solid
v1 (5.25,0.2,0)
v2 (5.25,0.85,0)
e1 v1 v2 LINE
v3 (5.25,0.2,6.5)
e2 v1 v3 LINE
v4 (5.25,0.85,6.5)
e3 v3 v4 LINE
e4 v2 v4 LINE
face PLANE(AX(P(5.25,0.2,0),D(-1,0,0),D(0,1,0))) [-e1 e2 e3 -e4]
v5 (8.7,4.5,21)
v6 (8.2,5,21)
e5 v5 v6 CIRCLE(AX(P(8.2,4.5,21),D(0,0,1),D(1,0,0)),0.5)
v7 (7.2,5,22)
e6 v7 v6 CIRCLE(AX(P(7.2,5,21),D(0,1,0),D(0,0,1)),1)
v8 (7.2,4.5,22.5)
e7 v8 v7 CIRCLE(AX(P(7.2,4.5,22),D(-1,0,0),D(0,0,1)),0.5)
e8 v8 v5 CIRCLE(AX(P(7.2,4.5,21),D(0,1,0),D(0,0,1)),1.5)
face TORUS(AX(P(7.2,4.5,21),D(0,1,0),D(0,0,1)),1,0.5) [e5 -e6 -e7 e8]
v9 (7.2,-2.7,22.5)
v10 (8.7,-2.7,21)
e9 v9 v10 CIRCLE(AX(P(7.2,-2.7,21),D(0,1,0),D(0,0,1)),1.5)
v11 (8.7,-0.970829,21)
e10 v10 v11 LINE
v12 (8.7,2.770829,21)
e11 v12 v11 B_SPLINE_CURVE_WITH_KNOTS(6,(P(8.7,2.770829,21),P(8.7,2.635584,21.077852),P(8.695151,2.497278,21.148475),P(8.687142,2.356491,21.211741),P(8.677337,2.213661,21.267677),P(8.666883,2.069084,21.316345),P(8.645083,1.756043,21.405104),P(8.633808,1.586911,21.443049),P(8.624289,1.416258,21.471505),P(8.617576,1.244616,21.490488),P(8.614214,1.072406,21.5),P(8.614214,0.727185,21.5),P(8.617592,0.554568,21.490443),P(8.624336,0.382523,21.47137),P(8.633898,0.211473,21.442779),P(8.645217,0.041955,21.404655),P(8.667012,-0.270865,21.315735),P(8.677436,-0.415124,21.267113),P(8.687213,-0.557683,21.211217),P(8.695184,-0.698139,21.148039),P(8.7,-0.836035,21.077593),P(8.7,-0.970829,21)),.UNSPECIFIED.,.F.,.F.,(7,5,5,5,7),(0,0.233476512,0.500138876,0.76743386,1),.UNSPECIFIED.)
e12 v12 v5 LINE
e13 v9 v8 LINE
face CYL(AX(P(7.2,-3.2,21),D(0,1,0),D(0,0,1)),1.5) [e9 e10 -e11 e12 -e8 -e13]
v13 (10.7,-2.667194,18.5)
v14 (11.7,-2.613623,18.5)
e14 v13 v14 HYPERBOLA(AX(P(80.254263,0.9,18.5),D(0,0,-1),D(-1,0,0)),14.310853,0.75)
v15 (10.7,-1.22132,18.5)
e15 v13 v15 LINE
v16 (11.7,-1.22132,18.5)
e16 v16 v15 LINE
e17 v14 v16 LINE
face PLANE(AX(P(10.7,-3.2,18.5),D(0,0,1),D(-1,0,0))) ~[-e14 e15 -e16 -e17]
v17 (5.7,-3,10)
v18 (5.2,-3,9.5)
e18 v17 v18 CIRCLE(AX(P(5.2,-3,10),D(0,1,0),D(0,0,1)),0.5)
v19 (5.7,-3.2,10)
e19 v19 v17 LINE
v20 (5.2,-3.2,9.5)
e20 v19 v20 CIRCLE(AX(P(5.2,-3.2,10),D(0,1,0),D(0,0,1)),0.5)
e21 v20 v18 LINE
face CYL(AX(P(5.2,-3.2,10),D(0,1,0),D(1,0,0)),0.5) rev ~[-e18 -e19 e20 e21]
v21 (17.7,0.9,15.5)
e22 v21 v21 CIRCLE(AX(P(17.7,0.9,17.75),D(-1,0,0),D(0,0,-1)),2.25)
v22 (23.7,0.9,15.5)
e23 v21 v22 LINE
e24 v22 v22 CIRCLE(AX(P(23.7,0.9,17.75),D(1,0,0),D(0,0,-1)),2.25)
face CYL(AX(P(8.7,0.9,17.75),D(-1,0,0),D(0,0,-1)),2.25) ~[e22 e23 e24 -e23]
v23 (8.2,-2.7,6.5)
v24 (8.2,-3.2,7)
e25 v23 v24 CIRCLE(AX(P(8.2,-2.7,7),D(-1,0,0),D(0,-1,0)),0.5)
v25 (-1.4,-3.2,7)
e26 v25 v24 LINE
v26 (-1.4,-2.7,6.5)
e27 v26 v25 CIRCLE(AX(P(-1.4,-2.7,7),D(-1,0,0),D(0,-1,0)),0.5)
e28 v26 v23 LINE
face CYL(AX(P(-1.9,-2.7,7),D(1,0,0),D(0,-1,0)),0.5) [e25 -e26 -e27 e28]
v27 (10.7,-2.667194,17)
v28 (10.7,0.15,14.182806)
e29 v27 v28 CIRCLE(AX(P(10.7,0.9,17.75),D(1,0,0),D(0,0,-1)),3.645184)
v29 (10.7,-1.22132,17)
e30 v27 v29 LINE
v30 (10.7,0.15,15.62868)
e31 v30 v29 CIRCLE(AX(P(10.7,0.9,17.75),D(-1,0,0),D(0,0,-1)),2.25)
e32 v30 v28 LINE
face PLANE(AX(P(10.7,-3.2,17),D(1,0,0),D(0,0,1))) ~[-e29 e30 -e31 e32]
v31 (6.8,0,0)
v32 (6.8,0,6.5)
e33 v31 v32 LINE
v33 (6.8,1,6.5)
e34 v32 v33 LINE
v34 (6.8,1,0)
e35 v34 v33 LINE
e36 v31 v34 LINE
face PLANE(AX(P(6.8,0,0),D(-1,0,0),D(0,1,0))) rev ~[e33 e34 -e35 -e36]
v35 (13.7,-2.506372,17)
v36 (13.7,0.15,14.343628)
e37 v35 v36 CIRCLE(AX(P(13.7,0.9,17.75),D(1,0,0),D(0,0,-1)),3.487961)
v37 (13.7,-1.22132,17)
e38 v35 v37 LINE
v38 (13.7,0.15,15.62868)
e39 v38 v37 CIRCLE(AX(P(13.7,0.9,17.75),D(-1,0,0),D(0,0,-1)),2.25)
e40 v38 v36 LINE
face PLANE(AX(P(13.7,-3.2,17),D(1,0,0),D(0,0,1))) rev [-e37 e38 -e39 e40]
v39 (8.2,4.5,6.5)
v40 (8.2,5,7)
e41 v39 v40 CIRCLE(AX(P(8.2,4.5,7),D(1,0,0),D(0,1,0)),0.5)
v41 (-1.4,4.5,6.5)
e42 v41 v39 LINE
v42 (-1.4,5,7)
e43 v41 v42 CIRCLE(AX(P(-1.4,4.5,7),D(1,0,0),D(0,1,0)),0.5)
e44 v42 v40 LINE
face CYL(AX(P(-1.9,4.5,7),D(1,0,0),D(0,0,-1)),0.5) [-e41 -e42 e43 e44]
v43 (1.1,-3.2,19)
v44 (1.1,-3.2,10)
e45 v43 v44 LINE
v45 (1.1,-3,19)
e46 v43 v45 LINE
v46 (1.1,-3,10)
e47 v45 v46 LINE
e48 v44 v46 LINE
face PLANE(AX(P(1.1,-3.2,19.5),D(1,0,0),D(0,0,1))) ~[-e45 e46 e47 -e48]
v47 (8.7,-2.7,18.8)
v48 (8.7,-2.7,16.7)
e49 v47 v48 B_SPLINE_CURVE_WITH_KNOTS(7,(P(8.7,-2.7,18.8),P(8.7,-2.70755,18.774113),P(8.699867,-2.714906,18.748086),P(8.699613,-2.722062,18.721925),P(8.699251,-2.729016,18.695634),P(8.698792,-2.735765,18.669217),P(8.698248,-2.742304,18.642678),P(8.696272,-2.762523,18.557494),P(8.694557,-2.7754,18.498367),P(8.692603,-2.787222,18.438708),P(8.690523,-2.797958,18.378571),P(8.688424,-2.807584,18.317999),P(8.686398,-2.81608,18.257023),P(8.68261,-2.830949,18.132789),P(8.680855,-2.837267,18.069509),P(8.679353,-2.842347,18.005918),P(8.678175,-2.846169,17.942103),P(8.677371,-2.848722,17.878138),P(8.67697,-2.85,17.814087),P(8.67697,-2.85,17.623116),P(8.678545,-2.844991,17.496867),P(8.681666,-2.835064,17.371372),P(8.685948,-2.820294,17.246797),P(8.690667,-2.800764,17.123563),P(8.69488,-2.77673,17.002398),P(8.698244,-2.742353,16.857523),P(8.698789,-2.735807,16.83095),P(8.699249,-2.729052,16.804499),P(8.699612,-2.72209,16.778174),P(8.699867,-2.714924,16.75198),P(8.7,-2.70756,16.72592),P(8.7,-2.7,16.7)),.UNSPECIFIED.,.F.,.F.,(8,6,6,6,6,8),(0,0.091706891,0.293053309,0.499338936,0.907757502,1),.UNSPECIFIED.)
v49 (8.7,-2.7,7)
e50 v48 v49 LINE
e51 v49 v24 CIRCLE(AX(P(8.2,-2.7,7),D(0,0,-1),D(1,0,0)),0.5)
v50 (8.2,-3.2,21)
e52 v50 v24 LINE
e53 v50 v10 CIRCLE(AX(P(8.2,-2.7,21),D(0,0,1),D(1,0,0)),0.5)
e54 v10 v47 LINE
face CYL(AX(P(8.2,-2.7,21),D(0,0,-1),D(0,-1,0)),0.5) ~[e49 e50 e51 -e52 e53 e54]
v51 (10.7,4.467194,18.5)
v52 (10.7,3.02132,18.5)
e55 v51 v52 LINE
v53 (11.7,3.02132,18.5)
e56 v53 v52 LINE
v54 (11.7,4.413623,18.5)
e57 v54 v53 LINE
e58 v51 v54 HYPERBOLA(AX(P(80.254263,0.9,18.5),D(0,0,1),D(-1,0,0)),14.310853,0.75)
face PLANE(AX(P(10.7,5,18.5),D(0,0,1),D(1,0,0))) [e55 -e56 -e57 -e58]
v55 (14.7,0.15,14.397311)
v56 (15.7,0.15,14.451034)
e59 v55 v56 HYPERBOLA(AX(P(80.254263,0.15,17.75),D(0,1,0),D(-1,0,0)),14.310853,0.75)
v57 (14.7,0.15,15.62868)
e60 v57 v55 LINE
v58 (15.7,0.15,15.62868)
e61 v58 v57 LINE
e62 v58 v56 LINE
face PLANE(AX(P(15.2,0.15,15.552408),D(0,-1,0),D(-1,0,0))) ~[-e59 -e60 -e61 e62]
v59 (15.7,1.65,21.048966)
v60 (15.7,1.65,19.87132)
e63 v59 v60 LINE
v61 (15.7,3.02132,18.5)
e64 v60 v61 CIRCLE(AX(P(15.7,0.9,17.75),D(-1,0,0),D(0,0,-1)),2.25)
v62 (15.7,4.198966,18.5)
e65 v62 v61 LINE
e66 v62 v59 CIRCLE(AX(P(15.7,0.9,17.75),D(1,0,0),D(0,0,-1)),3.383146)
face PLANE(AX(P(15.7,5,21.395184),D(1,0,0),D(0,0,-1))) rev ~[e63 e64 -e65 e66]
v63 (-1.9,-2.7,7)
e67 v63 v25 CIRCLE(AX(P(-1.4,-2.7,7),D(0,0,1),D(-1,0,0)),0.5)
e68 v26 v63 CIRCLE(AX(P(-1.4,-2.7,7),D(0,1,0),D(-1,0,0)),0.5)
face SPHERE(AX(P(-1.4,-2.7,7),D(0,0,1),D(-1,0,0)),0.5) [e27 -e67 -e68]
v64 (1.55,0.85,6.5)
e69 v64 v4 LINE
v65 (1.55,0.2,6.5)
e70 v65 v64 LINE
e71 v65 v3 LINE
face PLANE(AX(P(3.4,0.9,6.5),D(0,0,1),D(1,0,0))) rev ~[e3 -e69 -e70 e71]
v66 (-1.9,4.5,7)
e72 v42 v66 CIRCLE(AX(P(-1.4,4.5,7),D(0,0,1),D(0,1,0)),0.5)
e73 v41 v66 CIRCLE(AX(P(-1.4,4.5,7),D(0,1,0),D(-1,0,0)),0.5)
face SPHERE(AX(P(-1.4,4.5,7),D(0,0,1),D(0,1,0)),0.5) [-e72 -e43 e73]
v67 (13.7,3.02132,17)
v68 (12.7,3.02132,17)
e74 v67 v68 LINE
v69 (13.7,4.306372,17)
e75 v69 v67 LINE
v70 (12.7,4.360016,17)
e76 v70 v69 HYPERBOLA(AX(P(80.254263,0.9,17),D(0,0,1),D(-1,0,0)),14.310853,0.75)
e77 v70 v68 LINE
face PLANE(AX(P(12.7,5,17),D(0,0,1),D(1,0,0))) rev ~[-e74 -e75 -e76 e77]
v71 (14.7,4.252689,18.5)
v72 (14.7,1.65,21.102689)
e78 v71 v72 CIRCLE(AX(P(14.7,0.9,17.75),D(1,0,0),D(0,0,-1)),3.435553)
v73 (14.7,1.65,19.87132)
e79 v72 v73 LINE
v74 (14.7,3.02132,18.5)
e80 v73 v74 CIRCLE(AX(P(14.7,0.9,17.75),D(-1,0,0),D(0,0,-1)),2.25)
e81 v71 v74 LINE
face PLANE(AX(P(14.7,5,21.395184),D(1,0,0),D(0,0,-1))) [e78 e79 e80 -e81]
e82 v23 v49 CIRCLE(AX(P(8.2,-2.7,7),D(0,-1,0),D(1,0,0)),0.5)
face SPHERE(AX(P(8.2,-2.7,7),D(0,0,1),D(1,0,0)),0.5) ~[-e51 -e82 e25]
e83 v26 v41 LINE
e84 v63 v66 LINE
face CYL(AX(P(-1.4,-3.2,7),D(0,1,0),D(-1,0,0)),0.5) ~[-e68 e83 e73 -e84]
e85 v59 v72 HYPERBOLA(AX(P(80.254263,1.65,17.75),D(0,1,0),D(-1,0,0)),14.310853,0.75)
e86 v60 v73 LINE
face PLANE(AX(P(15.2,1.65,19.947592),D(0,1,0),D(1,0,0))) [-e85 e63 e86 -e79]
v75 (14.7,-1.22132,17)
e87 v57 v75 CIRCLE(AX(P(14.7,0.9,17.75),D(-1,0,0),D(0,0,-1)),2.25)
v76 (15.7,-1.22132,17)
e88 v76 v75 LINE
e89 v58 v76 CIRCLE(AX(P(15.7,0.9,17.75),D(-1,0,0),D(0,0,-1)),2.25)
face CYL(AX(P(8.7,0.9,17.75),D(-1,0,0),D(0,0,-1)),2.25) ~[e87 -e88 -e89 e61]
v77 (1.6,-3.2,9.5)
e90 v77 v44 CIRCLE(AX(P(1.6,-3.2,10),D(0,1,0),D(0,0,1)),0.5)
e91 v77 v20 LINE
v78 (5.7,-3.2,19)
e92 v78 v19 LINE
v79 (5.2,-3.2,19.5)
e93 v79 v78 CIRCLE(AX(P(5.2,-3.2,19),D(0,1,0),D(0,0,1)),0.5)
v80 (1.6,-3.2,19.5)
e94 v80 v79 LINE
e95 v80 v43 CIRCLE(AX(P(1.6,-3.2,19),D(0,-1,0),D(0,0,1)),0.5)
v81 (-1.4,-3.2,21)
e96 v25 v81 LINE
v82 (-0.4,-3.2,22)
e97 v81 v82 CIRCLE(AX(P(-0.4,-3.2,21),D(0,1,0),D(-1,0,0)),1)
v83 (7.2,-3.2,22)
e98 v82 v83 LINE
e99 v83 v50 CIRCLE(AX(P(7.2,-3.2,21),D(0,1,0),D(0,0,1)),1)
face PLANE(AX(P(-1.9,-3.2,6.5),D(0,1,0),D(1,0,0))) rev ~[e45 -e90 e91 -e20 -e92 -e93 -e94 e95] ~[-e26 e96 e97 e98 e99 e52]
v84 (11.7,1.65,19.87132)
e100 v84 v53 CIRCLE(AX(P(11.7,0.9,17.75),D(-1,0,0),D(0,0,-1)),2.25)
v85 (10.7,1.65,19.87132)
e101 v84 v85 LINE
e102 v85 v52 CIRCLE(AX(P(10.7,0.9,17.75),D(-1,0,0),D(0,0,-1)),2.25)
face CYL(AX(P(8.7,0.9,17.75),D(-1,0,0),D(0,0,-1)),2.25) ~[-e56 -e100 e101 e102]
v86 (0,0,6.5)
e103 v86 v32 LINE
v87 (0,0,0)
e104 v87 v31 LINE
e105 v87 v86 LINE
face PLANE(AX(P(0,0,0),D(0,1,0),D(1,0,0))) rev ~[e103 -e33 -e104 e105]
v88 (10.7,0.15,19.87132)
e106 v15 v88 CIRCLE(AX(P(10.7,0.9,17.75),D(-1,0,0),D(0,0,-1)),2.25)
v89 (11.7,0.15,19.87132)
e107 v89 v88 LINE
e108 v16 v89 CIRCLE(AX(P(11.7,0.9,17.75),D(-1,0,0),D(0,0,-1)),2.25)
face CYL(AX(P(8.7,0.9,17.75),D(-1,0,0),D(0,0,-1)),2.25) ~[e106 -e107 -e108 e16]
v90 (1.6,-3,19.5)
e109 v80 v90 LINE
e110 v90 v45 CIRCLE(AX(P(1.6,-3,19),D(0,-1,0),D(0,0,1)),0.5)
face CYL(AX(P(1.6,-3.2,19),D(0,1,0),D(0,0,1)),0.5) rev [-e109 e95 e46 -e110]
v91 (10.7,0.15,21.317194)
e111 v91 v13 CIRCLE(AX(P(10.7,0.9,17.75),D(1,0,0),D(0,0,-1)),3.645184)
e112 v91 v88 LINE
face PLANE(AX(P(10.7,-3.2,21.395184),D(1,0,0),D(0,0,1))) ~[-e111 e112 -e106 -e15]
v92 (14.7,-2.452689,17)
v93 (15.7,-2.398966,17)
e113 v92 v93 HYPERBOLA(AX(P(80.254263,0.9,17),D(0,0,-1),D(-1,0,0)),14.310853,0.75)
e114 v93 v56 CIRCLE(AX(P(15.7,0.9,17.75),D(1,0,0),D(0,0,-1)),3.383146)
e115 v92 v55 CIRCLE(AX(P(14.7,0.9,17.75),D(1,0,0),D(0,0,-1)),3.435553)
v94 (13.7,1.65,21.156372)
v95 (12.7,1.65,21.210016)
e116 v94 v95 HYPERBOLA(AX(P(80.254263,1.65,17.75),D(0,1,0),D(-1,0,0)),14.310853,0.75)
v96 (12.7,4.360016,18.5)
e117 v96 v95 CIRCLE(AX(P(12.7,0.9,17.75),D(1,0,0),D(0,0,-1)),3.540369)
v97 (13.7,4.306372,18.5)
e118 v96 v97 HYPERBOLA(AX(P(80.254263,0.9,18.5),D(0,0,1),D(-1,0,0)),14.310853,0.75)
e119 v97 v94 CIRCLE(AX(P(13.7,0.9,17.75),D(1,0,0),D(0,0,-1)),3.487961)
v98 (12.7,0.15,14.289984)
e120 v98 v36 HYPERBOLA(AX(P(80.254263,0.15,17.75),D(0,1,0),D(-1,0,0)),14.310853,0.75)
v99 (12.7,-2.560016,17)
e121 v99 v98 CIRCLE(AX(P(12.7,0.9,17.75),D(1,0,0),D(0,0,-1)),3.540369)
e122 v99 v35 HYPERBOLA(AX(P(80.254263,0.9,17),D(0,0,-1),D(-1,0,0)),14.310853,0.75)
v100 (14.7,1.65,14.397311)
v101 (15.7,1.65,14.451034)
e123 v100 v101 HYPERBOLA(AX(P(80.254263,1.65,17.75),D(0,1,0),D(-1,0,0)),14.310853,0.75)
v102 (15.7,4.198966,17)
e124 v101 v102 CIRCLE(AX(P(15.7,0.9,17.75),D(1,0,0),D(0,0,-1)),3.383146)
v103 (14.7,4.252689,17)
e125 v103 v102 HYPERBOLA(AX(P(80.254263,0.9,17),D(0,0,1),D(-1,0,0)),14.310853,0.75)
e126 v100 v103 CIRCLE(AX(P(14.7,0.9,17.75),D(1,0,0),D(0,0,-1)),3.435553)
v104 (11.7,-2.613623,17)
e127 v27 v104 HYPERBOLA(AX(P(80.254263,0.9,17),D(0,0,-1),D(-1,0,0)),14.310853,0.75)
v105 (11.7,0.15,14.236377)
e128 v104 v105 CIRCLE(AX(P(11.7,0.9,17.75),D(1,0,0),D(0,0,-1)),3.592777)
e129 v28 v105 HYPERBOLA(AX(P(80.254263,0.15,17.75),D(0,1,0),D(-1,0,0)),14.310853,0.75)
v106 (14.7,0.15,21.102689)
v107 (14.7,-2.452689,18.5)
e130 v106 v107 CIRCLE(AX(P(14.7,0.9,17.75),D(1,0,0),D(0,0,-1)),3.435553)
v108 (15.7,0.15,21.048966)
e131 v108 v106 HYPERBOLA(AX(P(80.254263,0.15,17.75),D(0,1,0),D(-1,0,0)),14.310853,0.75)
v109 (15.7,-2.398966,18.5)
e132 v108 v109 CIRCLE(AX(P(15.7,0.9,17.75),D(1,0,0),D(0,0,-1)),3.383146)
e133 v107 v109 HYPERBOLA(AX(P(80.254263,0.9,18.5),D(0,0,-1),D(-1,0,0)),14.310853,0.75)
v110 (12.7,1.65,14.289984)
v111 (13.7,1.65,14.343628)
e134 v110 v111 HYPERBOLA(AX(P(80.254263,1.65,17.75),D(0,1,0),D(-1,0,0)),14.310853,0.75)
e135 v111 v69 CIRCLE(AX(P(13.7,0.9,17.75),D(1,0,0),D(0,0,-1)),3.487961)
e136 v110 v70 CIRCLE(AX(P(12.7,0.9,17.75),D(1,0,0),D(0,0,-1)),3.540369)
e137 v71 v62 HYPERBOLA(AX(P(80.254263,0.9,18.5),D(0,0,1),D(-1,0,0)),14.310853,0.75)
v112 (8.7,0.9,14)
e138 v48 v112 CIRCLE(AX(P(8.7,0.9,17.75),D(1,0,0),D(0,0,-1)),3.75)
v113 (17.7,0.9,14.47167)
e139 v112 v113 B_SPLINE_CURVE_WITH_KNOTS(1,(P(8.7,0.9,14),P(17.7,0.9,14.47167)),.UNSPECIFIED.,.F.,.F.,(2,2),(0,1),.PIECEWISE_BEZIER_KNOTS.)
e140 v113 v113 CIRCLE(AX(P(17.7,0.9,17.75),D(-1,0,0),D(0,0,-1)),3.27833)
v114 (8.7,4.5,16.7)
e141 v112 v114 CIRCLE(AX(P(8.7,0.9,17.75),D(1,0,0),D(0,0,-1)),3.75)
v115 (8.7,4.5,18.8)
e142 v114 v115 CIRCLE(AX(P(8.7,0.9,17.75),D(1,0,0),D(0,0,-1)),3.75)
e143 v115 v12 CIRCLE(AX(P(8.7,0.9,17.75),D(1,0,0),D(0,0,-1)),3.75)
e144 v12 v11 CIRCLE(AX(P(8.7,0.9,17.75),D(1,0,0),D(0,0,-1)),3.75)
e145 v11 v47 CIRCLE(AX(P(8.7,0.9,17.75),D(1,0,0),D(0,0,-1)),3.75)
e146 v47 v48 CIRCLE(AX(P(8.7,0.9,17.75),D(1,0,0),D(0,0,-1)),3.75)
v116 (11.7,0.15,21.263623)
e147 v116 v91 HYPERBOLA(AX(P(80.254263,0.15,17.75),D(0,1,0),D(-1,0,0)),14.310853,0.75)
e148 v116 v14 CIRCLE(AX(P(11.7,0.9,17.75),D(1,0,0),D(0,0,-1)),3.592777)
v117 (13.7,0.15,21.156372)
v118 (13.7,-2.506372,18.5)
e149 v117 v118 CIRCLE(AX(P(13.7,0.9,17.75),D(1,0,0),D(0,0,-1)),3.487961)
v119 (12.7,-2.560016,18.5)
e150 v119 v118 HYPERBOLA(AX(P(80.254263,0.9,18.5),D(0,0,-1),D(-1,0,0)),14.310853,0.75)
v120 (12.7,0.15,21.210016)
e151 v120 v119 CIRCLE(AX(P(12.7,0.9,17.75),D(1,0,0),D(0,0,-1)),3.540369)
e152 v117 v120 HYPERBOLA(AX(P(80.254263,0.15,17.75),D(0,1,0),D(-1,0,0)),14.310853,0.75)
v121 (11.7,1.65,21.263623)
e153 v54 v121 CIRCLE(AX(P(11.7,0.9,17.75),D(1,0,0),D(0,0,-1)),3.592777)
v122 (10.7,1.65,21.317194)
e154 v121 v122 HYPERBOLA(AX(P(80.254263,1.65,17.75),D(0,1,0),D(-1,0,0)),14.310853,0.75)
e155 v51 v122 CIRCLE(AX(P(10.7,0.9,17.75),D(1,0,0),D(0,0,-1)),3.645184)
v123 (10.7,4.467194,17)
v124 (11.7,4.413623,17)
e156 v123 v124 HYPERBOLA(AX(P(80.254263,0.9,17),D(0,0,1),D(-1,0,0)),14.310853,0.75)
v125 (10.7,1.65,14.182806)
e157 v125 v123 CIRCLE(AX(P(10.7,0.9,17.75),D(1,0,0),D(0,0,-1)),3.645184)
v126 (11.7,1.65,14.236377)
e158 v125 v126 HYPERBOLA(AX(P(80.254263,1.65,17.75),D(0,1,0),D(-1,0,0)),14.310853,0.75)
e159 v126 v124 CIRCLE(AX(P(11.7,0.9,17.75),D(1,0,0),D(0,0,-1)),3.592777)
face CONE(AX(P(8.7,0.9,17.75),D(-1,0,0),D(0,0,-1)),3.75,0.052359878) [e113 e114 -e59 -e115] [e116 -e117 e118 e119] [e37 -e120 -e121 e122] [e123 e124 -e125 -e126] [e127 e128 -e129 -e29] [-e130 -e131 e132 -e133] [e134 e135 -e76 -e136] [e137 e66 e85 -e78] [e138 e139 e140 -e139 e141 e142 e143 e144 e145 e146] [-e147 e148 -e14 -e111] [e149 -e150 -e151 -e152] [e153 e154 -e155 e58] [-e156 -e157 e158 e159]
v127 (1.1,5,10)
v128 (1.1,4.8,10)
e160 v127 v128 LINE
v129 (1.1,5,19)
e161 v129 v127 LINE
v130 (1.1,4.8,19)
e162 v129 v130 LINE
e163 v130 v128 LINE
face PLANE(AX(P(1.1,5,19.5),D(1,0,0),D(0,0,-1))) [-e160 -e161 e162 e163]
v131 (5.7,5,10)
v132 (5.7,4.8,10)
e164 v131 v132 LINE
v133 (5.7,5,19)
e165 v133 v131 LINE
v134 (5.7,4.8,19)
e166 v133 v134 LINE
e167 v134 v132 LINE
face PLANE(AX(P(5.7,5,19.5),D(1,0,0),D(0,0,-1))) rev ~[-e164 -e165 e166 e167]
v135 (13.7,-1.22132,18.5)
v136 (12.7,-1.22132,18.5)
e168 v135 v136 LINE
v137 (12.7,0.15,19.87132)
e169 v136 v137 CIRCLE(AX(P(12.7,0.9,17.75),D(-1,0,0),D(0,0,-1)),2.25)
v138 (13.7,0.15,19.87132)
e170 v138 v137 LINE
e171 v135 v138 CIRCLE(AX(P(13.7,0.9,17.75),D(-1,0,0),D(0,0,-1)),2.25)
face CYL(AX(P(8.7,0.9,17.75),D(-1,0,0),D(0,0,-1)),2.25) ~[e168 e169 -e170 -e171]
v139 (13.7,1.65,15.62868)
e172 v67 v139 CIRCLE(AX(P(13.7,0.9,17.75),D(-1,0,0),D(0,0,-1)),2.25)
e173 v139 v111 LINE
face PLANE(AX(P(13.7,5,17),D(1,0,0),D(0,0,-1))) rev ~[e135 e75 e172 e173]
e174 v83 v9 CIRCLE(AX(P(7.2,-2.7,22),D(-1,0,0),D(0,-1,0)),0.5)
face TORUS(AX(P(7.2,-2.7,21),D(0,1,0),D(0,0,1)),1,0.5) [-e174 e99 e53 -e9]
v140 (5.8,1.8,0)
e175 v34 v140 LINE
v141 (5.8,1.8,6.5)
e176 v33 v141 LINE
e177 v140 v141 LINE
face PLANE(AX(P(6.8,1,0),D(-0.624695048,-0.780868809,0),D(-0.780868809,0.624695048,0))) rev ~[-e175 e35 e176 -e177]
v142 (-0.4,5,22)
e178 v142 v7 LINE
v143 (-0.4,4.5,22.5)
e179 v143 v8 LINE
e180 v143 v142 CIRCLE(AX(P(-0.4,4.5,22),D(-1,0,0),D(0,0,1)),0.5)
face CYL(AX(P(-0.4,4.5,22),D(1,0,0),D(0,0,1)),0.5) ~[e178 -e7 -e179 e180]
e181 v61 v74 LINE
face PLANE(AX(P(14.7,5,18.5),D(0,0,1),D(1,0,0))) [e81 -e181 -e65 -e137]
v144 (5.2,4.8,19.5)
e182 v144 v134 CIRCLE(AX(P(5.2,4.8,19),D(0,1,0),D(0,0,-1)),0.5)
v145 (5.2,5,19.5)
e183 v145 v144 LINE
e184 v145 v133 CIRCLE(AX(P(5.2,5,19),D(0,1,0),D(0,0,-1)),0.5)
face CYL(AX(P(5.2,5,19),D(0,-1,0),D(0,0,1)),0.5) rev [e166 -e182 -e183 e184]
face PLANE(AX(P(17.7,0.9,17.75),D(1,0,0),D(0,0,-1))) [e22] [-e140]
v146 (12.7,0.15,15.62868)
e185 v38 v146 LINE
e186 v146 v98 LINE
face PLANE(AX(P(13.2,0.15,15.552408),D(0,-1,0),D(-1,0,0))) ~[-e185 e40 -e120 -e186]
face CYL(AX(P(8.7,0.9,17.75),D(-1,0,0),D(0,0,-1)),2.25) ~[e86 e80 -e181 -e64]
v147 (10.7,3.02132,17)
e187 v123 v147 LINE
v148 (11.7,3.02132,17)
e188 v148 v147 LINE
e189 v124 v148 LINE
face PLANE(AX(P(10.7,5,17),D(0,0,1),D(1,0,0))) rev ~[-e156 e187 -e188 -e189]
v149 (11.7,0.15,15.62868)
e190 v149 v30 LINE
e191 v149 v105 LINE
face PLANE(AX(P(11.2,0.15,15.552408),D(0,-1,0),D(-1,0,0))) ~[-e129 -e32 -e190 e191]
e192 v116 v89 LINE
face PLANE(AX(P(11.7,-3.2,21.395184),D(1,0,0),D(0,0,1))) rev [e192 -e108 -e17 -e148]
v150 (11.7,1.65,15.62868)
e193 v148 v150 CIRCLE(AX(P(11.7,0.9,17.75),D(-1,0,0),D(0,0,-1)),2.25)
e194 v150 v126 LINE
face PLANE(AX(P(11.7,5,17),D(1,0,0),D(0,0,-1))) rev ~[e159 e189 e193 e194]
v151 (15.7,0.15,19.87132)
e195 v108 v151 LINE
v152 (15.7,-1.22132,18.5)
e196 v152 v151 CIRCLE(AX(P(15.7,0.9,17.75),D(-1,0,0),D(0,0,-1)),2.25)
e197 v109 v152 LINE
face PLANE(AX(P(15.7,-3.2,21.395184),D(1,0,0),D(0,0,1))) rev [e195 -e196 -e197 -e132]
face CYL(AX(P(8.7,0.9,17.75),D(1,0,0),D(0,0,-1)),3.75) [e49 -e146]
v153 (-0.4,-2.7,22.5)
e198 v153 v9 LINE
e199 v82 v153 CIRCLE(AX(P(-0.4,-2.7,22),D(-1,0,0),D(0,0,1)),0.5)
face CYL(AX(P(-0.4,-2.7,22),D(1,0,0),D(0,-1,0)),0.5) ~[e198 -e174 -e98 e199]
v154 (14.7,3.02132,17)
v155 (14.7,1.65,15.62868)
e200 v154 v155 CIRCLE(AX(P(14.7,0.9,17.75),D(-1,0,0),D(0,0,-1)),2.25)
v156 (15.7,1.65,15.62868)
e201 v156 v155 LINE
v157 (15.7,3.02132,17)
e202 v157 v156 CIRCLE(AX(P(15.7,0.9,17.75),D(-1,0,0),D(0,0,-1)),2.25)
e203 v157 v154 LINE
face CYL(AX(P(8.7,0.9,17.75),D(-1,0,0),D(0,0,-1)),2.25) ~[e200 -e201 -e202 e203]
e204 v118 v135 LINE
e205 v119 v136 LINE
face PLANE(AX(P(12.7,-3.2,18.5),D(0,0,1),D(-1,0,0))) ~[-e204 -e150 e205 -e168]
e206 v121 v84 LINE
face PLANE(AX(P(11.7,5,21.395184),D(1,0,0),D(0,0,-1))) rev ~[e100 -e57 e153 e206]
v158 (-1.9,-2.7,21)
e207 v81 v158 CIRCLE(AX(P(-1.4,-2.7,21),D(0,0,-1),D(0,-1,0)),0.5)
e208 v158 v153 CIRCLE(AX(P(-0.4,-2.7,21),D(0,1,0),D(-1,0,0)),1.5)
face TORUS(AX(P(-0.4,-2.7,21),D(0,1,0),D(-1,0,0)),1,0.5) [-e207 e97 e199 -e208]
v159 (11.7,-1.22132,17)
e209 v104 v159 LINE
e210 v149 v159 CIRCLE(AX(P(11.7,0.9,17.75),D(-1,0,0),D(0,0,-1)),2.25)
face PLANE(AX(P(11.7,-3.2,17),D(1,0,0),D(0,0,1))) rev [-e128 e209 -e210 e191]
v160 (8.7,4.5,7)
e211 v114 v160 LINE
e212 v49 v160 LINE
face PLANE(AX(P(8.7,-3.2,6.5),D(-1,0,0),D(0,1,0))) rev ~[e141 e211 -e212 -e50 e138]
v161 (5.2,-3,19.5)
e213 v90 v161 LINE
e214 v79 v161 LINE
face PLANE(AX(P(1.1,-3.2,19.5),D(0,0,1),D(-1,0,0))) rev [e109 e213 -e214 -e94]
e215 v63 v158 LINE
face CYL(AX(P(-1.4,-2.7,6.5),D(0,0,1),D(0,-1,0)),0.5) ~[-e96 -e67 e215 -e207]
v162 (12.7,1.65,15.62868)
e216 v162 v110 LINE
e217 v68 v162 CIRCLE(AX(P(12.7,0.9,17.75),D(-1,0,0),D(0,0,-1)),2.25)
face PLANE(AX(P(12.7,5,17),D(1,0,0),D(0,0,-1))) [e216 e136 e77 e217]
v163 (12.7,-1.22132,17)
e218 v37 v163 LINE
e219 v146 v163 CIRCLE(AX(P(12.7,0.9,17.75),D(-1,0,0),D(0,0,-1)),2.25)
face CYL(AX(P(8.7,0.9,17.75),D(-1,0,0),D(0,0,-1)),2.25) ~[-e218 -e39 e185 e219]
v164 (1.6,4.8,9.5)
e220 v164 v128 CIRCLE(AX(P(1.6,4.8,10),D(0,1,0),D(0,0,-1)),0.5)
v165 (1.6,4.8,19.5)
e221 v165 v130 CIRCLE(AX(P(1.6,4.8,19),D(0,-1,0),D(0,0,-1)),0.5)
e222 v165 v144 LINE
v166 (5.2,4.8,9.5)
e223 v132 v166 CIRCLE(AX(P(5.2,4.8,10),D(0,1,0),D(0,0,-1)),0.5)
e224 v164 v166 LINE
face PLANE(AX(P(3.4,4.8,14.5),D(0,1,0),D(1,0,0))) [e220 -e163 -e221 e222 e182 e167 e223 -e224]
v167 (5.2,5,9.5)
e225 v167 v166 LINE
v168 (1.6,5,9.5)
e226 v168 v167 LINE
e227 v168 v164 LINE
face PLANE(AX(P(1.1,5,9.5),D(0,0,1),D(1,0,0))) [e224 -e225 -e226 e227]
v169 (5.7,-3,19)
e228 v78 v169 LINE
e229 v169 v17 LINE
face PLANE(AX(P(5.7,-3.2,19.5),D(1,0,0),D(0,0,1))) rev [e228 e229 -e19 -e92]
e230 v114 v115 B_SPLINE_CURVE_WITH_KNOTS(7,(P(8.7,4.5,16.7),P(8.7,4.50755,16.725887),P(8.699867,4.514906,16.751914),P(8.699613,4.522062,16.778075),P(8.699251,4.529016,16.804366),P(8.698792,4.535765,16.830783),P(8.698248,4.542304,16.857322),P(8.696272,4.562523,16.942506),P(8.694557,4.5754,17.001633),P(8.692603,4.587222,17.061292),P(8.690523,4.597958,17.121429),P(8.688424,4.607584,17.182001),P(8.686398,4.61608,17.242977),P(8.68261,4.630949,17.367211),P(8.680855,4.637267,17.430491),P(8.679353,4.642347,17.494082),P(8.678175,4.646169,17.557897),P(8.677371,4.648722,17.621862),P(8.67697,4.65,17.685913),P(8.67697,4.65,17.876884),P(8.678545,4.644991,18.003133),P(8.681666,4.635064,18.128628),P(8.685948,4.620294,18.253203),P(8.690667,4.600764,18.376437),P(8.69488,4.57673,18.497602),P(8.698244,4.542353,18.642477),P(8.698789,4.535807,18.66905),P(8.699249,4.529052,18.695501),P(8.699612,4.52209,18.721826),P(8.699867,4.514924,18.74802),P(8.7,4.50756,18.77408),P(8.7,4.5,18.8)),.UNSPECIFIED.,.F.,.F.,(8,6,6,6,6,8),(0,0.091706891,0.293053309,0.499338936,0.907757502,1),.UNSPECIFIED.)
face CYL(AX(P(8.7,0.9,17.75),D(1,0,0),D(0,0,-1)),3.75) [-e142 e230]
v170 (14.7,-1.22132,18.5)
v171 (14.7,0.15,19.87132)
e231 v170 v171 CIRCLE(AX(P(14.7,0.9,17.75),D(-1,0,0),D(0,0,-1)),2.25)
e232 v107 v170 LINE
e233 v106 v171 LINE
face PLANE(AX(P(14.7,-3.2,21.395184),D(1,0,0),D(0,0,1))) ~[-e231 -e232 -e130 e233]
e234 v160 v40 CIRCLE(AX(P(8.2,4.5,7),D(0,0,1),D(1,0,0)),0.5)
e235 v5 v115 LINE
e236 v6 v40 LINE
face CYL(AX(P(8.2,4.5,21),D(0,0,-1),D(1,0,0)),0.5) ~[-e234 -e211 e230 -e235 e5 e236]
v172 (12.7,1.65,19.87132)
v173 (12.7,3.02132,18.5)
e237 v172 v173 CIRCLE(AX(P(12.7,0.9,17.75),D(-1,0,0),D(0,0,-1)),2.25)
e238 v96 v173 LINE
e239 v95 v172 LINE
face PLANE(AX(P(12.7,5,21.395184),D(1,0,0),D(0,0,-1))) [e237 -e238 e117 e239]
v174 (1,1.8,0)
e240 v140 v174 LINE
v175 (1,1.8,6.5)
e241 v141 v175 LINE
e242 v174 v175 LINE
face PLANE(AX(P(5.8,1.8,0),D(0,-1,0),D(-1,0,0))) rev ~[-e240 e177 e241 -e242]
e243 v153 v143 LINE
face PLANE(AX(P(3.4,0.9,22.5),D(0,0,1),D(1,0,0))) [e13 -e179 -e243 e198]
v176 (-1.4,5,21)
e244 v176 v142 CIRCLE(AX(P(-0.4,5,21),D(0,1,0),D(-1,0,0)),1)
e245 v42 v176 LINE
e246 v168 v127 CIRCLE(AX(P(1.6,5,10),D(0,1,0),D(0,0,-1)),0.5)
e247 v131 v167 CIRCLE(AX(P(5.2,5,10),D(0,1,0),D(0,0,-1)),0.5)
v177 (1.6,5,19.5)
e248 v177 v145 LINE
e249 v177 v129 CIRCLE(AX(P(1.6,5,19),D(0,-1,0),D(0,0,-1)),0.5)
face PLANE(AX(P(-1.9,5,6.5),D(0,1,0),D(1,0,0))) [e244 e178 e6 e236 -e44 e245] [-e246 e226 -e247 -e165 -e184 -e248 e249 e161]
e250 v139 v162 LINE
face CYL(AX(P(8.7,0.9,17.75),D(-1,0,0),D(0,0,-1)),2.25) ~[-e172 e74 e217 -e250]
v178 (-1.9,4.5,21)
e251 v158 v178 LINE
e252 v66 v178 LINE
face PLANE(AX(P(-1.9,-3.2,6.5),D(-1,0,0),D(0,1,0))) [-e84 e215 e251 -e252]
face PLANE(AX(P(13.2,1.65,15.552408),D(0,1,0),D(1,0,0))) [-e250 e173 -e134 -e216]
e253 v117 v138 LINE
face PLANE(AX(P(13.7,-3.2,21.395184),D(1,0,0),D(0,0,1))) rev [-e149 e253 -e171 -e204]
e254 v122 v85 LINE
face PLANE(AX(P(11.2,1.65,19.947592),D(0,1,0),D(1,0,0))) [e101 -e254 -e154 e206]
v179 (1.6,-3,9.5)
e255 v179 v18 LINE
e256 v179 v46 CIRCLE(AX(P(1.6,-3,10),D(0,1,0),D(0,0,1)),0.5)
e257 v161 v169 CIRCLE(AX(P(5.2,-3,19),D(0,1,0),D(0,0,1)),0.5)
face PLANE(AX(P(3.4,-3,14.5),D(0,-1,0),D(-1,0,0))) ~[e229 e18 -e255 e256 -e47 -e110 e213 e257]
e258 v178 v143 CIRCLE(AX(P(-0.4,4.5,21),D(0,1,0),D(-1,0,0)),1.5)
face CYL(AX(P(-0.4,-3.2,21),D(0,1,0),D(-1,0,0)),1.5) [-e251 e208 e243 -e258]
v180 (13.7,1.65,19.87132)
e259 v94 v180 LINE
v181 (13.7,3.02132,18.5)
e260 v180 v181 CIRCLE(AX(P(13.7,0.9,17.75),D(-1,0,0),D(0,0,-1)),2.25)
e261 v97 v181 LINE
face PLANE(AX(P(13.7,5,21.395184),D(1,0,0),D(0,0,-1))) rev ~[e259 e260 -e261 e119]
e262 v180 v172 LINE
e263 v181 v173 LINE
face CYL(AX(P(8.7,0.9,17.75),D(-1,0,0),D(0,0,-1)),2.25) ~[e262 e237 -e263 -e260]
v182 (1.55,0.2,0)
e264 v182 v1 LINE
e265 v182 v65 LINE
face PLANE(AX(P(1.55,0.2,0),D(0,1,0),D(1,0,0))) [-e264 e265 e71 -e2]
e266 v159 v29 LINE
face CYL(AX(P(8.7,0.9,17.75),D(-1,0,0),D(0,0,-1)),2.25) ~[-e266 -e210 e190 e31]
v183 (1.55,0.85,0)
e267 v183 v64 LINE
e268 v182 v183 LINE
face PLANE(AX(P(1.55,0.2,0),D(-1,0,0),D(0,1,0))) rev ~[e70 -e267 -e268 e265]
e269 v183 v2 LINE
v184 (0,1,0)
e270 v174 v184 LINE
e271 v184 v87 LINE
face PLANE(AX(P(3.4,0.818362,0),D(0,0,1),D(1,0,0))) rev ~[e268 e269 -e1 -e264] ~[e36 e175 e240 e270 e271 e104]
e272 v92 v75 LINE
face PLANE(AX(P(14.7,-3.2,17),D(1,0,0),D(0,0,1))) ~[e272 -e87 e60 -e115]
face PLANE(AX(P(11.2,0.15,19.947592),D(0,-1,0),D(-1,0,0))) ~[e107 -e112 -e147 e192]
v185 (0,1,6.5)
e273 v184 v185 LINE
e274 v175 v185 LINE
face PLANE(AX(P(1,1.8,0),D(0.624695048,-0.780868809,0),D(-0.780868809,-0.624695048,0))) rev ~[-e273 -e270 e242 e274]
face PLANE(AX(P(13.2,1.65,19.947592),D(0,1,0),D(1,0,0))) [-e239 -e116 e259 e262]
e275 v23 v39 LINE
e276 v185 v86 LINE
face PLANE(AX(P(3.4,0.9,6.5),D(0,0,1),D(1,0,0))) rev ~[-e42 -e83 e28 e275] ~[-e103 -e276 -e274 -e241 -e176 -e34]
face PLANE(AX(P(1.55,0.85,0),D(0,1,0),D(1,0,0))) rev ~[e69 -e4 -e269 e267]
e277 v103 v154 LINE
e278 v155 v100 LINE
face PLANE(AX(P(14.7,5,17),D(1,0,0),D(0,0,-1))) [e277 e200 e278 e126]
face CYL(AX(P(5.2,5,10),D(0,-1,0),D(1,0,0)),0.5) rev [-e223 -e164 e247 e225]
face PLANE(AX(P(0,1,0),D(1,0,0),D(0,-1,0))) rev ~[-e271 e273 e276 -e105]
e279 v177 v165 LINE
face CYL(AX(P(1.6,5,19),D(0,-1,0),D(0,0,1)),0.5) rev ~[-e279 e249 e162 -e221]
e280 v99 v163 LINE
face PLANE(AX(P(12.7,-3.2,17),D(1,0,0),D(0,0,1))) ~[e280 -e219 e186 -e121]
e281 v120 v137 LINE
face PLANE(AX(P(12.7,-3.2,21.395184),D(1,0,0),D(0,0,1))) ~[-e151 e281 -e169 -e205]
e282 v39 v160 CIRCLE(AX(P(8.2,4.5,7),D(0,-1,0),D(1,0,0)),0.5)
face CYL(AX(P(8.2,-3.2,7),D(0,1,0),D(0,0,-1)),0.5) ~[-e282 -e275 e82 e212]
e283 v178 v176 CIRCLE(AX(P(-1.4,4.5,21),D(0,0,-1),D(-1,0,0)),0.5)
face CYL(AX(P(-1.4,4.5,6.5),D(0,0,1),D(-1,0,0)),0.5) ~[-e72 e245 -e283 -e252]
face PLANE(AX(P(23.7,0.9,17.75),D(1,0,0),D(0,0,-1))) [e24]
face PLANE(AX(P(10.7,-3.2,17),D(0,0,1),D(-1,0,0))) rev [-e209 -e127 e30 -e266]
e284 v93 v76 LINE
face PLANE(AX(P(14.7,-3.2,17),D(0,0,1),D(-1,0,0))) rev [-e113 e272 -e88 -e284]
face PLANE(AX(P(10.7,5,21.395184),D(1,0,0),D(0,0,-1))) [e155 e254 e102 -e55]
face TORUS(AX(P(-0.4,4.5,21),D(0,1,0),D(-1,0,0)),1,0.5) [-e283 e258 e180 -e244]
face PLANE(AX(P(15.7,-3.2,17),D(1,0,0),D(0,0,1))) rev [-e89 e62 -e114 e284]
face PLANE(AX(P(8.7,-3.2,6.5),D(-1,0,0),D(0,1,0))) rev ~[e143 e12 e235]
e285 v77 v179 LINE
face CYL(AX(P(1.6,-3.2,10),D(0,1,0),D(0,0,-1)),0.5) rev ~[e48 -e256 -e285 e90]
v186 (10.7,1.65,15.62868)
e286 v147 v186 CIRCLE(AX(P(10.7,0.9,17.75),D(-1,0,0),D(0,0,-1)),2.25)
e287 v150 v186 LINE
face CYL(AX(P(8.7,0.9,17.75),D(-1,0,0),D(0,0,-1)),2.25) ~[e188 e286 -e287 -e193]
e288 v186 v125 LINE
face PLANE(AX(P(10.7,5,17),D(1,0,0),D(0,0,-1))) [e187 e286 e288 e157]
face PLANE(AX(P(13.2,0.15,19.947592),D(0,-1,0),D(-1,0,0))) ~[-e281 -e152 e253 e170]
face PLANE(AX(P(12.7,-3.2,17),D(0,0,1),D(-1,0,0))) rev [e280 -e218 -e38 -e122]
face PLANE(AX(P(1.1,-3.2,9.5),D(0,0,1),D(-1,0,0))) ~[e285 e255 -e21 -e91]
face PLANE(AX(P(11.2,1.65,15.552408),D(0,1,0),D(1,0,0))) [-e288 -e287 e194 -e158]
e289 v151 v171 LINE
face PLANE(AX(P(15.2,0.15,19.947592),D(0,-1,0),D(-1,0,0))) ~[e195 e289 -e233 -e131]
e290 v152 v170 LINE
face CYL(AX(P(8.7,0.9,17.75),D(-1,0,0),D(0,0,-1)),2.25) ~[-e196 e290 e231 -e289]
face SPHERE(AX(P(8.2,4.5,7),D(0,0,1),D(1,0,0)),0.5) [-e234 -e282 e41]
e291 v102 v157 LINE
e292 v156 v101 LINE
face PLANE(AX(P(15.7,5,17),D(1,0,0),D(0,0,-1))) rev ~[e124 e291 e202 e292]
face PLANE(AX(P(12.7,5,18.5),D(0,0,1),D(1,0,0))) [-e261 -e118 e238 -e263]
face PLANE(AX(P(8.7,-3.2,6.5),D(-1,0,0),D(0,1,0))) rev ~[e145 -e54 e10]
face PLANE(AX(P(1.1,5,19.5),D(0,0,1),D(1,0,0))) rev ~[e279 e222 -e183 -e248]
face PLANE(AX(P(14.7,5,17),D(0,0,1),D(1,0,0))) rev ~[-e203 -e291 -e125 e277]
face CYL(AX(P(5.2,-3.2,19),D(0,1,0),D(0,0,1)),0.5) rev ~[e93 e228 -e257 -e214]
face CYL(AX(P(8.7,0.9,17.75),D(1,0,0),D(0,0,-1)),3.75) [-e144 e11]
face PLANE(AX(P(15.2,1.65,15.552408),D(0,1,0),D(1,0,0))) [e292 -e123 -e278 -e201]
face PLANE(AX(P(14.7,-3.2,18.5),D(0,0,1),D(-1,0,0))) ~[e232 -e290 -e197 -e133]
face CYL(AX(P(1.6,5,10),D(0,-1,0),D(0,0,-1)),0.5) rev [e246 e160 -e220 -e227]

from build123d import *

# Parameters (mm, degrees)
SKETCH1_W                     = 3.7
SKETCH1_H                     = 0.65
BOSS_EXTRUDE1_DEPTH           = 6.5
SKETCH2_W                     = 10.6
SKETCH2_H                     = 8.2
BOSS_EXTRUDE2_DEPTH           = 16
SKETCH6_W                     = 4.6
SKETCH6_H                     = 10
CUT_EXTRUDE2_DEPTH            = 0.2
FILLET3_R                     = 0.5
FILLET3_OF_MIRROR2_R          = 0.5
FILLET1_R                     = 1.5
FILLET2_R                     = 0.5
SKETCH3_R                     = 3.75
BOSS_EXTRUDE3_DEPTH           = 9
BOSS_EXTRUDE3_TAPER           = 3
BOSS_EXTRUDE3_OTHER_WAY_DEPTH = 8.7
SKETCH5_W                     = 1
SKETCH5_H                     = 2.895184441
CUT_EXTRUDE1_DEPTH            = 3.35
SKETCH4_R                     = 2.25
BOSS_EXTRUDE4_DEPTH           = 15


with BuildPart() as part:
    # Sketch1 → Boss-Extrude1 (new body)
    with BuildSketch(Plane.XY):
        Polygon((1, 1.8), (0, 1), (0, 0), (6.8, 0), (6.8, 1), (5.8, 1.8), align=None)
        with Locations((3.4, 0.525)):
            Rectangle(SKETCH1_W, SKETCH1_H, mode=Mode.SUBTRACT)
    extrude(amount=BOSS_EXTRUDE1_DEPTH)

    # Sketch2 → Boss-Extrude2 (add)
    with BuildSketch(Plane.XY.offset(6.5)):
        with Locations((3.4, 0.9)):
            Rectangle(SKETCH2_W, SKETCH2_H)
    extrude(amount=BOSS_EXTRUDE2_DEPTH)

    # Sketch6 → Cut-Extrude2 (cut)
    with BuildSketch(Plane(origin=(0, 5, 0), x_dir=(1, 0, 0), z_dir=(0, 1, 0))):
        with Locations((3.4, -14.5)):
            Rectangle(SKETCH6_W, SKETCH6_H)
    cut_extrude2 = extrude(amount=-CUT_EXTRUDE2_DEPTH, mode=Mode.SUBTRACT)

    # Fillet3
    fillet3_edges = [part.edges().sort_by_distance(p)[0] for p in [
        (5.7, 4.9, 9.5),
        (5.7, 4.9, 19.5),
        (1.1, 4.9, 19.5),
        (1.1, 4.9, 9.5),
    ]]
    fillet(fillet3_edges, radius=FILLET3_R)

    # Mirror2: Cut-Extrude2 across plane
    add(cut_extrude2.mirror(Plane.ZX.offset(0.9)), mode=Mode.SUBTRACT)

    # Fillet3 of Mirror2
    fillet3_of_mirror2_edges = [part.edges().sort_by_distance(p)[0] for p in [
        (5.7, -3.1, 9.5),
        (5.7, -3.1, 19.5),
        (1.1, -3.1, 19.5),
        (1.1, -3.1, 9.5),
    ]]
    fillet(fillet3_of_mirror2_edges, radius=FILLET3_OF_MIRROR2_R)

    # Fillet1
    fillet1_edges = [part.edges().sort_by_distance(p)[0] for p in [
        (8.7, 0.9, 22.5),
        (-1.9, 0.9, 22.5),
    ]]
    fillet(fillet1_edges, radius=FILLET1_R)

    # Fillet2
    fillet2_edges = [part.edges().sort_by_distance(p)[0] for p in [
        (3.4, 5, 22.5),
        (3.4, -3.2, 22.5),
        (8.7, -3.2, 13.75),
        (-1.9, -3.2, 13.75),
        (8.260660172, -3.2, 22.060660172),
        (-1.460660172, -3.2, 22.060660172),
        (-1.9, 5, 13.75),
        (8.7, 5, 13.75),
        (8.260660172, 5, 22.060660172),
        (-1.460660172, 5, 22.060660172),
        (8.7, 0.9, 6.5),
        (3.4, 5, 6.5),
        (-1.9, 0.9, 6.5),
        (3.4, -3.2, 6.5),
    ]]
    fillet(fillet2_edges, radius=FILLET2_R)

    # Sketch3 → Boss-Extrude3 (add)
    with BuildSketch(Plane(origin=(8.7, 0, 0), x_dir=(0, 0, -1), z_dir=(1, 0, 0))):
        with Locations((-17.75, 0.9)):
            Circle(SKETCH3_R)
    extrude(amount=BOSS_EXTRUDE3_DEPTH, taper=BOSS_EXTRUDE3_TAPER)

    # Sketch3 → Boss-Extrude3 other way (add)
    with BuildSketch(Plane(origin=(8.7, 0, 0), x_dir=(0, 0, -1), z_dir=(1, 0, 0))):
        with Locations((-17.75, 0.9)):
            Circle(SKETCH3_R)
    extrude(amount=-BOSS_EXTRUDE3_OTHER_WAY_DEPTH)

    # Sketch5 → Cut-Extrude1 (cut)
    with BuildSketch(Plane(origin=(0, 5, 0), x_dir=(1, 0, 0), z_dir=(0, 1, 0))):
        with Locations((11.2, -15.55240778)):
            Rectangle(SKETCH5_W, SKETCH5_H)
        with Locations((13.2, -15.55240778)):
            Rectangle(SKETCH5_W, SKETCH5_H)
        with Locations((15.2, -15.55240778)):
            Rectangle(SKETCH5_W, SKETCH5_H)
        with Locations((11.2, -19.94759222)):
            Rectangle(SKETCH5_W, SKETCH5_H)
        with Locations((13.2, -19.94759222)):
            Rectangle(SKETCH5_W, SKETCH5_H)
        with Locations((15.2, -19.94759222)):
            Rectangle(SKETCH5_W, SKETCH5_H)
    cut_extrude1 = extrude(amount=-CUT_EXTRUDE1_DEPTH, mode=Mode.SUBTRACT)

    # Mirror1: Cut-Extrude1 across plane
    add(cut_extrude1.mirror(Plane.ZX.offset(0.9)), mode=Mode.SUBTRACT)

    # Sketch4 → Boss-Extrude4 (add)
    with BuildSketch(Plane(origin=(8.7, 0, 0), x_dir=(0, 0, -1), z_dir=(1, 0, 0))):
        with Locations((-17.75, 0.9)):
            Circle(SKETCH4_R)
    extrude(amount=BOSS_EXTRUDE4_DEPTH)


solid = part.part
